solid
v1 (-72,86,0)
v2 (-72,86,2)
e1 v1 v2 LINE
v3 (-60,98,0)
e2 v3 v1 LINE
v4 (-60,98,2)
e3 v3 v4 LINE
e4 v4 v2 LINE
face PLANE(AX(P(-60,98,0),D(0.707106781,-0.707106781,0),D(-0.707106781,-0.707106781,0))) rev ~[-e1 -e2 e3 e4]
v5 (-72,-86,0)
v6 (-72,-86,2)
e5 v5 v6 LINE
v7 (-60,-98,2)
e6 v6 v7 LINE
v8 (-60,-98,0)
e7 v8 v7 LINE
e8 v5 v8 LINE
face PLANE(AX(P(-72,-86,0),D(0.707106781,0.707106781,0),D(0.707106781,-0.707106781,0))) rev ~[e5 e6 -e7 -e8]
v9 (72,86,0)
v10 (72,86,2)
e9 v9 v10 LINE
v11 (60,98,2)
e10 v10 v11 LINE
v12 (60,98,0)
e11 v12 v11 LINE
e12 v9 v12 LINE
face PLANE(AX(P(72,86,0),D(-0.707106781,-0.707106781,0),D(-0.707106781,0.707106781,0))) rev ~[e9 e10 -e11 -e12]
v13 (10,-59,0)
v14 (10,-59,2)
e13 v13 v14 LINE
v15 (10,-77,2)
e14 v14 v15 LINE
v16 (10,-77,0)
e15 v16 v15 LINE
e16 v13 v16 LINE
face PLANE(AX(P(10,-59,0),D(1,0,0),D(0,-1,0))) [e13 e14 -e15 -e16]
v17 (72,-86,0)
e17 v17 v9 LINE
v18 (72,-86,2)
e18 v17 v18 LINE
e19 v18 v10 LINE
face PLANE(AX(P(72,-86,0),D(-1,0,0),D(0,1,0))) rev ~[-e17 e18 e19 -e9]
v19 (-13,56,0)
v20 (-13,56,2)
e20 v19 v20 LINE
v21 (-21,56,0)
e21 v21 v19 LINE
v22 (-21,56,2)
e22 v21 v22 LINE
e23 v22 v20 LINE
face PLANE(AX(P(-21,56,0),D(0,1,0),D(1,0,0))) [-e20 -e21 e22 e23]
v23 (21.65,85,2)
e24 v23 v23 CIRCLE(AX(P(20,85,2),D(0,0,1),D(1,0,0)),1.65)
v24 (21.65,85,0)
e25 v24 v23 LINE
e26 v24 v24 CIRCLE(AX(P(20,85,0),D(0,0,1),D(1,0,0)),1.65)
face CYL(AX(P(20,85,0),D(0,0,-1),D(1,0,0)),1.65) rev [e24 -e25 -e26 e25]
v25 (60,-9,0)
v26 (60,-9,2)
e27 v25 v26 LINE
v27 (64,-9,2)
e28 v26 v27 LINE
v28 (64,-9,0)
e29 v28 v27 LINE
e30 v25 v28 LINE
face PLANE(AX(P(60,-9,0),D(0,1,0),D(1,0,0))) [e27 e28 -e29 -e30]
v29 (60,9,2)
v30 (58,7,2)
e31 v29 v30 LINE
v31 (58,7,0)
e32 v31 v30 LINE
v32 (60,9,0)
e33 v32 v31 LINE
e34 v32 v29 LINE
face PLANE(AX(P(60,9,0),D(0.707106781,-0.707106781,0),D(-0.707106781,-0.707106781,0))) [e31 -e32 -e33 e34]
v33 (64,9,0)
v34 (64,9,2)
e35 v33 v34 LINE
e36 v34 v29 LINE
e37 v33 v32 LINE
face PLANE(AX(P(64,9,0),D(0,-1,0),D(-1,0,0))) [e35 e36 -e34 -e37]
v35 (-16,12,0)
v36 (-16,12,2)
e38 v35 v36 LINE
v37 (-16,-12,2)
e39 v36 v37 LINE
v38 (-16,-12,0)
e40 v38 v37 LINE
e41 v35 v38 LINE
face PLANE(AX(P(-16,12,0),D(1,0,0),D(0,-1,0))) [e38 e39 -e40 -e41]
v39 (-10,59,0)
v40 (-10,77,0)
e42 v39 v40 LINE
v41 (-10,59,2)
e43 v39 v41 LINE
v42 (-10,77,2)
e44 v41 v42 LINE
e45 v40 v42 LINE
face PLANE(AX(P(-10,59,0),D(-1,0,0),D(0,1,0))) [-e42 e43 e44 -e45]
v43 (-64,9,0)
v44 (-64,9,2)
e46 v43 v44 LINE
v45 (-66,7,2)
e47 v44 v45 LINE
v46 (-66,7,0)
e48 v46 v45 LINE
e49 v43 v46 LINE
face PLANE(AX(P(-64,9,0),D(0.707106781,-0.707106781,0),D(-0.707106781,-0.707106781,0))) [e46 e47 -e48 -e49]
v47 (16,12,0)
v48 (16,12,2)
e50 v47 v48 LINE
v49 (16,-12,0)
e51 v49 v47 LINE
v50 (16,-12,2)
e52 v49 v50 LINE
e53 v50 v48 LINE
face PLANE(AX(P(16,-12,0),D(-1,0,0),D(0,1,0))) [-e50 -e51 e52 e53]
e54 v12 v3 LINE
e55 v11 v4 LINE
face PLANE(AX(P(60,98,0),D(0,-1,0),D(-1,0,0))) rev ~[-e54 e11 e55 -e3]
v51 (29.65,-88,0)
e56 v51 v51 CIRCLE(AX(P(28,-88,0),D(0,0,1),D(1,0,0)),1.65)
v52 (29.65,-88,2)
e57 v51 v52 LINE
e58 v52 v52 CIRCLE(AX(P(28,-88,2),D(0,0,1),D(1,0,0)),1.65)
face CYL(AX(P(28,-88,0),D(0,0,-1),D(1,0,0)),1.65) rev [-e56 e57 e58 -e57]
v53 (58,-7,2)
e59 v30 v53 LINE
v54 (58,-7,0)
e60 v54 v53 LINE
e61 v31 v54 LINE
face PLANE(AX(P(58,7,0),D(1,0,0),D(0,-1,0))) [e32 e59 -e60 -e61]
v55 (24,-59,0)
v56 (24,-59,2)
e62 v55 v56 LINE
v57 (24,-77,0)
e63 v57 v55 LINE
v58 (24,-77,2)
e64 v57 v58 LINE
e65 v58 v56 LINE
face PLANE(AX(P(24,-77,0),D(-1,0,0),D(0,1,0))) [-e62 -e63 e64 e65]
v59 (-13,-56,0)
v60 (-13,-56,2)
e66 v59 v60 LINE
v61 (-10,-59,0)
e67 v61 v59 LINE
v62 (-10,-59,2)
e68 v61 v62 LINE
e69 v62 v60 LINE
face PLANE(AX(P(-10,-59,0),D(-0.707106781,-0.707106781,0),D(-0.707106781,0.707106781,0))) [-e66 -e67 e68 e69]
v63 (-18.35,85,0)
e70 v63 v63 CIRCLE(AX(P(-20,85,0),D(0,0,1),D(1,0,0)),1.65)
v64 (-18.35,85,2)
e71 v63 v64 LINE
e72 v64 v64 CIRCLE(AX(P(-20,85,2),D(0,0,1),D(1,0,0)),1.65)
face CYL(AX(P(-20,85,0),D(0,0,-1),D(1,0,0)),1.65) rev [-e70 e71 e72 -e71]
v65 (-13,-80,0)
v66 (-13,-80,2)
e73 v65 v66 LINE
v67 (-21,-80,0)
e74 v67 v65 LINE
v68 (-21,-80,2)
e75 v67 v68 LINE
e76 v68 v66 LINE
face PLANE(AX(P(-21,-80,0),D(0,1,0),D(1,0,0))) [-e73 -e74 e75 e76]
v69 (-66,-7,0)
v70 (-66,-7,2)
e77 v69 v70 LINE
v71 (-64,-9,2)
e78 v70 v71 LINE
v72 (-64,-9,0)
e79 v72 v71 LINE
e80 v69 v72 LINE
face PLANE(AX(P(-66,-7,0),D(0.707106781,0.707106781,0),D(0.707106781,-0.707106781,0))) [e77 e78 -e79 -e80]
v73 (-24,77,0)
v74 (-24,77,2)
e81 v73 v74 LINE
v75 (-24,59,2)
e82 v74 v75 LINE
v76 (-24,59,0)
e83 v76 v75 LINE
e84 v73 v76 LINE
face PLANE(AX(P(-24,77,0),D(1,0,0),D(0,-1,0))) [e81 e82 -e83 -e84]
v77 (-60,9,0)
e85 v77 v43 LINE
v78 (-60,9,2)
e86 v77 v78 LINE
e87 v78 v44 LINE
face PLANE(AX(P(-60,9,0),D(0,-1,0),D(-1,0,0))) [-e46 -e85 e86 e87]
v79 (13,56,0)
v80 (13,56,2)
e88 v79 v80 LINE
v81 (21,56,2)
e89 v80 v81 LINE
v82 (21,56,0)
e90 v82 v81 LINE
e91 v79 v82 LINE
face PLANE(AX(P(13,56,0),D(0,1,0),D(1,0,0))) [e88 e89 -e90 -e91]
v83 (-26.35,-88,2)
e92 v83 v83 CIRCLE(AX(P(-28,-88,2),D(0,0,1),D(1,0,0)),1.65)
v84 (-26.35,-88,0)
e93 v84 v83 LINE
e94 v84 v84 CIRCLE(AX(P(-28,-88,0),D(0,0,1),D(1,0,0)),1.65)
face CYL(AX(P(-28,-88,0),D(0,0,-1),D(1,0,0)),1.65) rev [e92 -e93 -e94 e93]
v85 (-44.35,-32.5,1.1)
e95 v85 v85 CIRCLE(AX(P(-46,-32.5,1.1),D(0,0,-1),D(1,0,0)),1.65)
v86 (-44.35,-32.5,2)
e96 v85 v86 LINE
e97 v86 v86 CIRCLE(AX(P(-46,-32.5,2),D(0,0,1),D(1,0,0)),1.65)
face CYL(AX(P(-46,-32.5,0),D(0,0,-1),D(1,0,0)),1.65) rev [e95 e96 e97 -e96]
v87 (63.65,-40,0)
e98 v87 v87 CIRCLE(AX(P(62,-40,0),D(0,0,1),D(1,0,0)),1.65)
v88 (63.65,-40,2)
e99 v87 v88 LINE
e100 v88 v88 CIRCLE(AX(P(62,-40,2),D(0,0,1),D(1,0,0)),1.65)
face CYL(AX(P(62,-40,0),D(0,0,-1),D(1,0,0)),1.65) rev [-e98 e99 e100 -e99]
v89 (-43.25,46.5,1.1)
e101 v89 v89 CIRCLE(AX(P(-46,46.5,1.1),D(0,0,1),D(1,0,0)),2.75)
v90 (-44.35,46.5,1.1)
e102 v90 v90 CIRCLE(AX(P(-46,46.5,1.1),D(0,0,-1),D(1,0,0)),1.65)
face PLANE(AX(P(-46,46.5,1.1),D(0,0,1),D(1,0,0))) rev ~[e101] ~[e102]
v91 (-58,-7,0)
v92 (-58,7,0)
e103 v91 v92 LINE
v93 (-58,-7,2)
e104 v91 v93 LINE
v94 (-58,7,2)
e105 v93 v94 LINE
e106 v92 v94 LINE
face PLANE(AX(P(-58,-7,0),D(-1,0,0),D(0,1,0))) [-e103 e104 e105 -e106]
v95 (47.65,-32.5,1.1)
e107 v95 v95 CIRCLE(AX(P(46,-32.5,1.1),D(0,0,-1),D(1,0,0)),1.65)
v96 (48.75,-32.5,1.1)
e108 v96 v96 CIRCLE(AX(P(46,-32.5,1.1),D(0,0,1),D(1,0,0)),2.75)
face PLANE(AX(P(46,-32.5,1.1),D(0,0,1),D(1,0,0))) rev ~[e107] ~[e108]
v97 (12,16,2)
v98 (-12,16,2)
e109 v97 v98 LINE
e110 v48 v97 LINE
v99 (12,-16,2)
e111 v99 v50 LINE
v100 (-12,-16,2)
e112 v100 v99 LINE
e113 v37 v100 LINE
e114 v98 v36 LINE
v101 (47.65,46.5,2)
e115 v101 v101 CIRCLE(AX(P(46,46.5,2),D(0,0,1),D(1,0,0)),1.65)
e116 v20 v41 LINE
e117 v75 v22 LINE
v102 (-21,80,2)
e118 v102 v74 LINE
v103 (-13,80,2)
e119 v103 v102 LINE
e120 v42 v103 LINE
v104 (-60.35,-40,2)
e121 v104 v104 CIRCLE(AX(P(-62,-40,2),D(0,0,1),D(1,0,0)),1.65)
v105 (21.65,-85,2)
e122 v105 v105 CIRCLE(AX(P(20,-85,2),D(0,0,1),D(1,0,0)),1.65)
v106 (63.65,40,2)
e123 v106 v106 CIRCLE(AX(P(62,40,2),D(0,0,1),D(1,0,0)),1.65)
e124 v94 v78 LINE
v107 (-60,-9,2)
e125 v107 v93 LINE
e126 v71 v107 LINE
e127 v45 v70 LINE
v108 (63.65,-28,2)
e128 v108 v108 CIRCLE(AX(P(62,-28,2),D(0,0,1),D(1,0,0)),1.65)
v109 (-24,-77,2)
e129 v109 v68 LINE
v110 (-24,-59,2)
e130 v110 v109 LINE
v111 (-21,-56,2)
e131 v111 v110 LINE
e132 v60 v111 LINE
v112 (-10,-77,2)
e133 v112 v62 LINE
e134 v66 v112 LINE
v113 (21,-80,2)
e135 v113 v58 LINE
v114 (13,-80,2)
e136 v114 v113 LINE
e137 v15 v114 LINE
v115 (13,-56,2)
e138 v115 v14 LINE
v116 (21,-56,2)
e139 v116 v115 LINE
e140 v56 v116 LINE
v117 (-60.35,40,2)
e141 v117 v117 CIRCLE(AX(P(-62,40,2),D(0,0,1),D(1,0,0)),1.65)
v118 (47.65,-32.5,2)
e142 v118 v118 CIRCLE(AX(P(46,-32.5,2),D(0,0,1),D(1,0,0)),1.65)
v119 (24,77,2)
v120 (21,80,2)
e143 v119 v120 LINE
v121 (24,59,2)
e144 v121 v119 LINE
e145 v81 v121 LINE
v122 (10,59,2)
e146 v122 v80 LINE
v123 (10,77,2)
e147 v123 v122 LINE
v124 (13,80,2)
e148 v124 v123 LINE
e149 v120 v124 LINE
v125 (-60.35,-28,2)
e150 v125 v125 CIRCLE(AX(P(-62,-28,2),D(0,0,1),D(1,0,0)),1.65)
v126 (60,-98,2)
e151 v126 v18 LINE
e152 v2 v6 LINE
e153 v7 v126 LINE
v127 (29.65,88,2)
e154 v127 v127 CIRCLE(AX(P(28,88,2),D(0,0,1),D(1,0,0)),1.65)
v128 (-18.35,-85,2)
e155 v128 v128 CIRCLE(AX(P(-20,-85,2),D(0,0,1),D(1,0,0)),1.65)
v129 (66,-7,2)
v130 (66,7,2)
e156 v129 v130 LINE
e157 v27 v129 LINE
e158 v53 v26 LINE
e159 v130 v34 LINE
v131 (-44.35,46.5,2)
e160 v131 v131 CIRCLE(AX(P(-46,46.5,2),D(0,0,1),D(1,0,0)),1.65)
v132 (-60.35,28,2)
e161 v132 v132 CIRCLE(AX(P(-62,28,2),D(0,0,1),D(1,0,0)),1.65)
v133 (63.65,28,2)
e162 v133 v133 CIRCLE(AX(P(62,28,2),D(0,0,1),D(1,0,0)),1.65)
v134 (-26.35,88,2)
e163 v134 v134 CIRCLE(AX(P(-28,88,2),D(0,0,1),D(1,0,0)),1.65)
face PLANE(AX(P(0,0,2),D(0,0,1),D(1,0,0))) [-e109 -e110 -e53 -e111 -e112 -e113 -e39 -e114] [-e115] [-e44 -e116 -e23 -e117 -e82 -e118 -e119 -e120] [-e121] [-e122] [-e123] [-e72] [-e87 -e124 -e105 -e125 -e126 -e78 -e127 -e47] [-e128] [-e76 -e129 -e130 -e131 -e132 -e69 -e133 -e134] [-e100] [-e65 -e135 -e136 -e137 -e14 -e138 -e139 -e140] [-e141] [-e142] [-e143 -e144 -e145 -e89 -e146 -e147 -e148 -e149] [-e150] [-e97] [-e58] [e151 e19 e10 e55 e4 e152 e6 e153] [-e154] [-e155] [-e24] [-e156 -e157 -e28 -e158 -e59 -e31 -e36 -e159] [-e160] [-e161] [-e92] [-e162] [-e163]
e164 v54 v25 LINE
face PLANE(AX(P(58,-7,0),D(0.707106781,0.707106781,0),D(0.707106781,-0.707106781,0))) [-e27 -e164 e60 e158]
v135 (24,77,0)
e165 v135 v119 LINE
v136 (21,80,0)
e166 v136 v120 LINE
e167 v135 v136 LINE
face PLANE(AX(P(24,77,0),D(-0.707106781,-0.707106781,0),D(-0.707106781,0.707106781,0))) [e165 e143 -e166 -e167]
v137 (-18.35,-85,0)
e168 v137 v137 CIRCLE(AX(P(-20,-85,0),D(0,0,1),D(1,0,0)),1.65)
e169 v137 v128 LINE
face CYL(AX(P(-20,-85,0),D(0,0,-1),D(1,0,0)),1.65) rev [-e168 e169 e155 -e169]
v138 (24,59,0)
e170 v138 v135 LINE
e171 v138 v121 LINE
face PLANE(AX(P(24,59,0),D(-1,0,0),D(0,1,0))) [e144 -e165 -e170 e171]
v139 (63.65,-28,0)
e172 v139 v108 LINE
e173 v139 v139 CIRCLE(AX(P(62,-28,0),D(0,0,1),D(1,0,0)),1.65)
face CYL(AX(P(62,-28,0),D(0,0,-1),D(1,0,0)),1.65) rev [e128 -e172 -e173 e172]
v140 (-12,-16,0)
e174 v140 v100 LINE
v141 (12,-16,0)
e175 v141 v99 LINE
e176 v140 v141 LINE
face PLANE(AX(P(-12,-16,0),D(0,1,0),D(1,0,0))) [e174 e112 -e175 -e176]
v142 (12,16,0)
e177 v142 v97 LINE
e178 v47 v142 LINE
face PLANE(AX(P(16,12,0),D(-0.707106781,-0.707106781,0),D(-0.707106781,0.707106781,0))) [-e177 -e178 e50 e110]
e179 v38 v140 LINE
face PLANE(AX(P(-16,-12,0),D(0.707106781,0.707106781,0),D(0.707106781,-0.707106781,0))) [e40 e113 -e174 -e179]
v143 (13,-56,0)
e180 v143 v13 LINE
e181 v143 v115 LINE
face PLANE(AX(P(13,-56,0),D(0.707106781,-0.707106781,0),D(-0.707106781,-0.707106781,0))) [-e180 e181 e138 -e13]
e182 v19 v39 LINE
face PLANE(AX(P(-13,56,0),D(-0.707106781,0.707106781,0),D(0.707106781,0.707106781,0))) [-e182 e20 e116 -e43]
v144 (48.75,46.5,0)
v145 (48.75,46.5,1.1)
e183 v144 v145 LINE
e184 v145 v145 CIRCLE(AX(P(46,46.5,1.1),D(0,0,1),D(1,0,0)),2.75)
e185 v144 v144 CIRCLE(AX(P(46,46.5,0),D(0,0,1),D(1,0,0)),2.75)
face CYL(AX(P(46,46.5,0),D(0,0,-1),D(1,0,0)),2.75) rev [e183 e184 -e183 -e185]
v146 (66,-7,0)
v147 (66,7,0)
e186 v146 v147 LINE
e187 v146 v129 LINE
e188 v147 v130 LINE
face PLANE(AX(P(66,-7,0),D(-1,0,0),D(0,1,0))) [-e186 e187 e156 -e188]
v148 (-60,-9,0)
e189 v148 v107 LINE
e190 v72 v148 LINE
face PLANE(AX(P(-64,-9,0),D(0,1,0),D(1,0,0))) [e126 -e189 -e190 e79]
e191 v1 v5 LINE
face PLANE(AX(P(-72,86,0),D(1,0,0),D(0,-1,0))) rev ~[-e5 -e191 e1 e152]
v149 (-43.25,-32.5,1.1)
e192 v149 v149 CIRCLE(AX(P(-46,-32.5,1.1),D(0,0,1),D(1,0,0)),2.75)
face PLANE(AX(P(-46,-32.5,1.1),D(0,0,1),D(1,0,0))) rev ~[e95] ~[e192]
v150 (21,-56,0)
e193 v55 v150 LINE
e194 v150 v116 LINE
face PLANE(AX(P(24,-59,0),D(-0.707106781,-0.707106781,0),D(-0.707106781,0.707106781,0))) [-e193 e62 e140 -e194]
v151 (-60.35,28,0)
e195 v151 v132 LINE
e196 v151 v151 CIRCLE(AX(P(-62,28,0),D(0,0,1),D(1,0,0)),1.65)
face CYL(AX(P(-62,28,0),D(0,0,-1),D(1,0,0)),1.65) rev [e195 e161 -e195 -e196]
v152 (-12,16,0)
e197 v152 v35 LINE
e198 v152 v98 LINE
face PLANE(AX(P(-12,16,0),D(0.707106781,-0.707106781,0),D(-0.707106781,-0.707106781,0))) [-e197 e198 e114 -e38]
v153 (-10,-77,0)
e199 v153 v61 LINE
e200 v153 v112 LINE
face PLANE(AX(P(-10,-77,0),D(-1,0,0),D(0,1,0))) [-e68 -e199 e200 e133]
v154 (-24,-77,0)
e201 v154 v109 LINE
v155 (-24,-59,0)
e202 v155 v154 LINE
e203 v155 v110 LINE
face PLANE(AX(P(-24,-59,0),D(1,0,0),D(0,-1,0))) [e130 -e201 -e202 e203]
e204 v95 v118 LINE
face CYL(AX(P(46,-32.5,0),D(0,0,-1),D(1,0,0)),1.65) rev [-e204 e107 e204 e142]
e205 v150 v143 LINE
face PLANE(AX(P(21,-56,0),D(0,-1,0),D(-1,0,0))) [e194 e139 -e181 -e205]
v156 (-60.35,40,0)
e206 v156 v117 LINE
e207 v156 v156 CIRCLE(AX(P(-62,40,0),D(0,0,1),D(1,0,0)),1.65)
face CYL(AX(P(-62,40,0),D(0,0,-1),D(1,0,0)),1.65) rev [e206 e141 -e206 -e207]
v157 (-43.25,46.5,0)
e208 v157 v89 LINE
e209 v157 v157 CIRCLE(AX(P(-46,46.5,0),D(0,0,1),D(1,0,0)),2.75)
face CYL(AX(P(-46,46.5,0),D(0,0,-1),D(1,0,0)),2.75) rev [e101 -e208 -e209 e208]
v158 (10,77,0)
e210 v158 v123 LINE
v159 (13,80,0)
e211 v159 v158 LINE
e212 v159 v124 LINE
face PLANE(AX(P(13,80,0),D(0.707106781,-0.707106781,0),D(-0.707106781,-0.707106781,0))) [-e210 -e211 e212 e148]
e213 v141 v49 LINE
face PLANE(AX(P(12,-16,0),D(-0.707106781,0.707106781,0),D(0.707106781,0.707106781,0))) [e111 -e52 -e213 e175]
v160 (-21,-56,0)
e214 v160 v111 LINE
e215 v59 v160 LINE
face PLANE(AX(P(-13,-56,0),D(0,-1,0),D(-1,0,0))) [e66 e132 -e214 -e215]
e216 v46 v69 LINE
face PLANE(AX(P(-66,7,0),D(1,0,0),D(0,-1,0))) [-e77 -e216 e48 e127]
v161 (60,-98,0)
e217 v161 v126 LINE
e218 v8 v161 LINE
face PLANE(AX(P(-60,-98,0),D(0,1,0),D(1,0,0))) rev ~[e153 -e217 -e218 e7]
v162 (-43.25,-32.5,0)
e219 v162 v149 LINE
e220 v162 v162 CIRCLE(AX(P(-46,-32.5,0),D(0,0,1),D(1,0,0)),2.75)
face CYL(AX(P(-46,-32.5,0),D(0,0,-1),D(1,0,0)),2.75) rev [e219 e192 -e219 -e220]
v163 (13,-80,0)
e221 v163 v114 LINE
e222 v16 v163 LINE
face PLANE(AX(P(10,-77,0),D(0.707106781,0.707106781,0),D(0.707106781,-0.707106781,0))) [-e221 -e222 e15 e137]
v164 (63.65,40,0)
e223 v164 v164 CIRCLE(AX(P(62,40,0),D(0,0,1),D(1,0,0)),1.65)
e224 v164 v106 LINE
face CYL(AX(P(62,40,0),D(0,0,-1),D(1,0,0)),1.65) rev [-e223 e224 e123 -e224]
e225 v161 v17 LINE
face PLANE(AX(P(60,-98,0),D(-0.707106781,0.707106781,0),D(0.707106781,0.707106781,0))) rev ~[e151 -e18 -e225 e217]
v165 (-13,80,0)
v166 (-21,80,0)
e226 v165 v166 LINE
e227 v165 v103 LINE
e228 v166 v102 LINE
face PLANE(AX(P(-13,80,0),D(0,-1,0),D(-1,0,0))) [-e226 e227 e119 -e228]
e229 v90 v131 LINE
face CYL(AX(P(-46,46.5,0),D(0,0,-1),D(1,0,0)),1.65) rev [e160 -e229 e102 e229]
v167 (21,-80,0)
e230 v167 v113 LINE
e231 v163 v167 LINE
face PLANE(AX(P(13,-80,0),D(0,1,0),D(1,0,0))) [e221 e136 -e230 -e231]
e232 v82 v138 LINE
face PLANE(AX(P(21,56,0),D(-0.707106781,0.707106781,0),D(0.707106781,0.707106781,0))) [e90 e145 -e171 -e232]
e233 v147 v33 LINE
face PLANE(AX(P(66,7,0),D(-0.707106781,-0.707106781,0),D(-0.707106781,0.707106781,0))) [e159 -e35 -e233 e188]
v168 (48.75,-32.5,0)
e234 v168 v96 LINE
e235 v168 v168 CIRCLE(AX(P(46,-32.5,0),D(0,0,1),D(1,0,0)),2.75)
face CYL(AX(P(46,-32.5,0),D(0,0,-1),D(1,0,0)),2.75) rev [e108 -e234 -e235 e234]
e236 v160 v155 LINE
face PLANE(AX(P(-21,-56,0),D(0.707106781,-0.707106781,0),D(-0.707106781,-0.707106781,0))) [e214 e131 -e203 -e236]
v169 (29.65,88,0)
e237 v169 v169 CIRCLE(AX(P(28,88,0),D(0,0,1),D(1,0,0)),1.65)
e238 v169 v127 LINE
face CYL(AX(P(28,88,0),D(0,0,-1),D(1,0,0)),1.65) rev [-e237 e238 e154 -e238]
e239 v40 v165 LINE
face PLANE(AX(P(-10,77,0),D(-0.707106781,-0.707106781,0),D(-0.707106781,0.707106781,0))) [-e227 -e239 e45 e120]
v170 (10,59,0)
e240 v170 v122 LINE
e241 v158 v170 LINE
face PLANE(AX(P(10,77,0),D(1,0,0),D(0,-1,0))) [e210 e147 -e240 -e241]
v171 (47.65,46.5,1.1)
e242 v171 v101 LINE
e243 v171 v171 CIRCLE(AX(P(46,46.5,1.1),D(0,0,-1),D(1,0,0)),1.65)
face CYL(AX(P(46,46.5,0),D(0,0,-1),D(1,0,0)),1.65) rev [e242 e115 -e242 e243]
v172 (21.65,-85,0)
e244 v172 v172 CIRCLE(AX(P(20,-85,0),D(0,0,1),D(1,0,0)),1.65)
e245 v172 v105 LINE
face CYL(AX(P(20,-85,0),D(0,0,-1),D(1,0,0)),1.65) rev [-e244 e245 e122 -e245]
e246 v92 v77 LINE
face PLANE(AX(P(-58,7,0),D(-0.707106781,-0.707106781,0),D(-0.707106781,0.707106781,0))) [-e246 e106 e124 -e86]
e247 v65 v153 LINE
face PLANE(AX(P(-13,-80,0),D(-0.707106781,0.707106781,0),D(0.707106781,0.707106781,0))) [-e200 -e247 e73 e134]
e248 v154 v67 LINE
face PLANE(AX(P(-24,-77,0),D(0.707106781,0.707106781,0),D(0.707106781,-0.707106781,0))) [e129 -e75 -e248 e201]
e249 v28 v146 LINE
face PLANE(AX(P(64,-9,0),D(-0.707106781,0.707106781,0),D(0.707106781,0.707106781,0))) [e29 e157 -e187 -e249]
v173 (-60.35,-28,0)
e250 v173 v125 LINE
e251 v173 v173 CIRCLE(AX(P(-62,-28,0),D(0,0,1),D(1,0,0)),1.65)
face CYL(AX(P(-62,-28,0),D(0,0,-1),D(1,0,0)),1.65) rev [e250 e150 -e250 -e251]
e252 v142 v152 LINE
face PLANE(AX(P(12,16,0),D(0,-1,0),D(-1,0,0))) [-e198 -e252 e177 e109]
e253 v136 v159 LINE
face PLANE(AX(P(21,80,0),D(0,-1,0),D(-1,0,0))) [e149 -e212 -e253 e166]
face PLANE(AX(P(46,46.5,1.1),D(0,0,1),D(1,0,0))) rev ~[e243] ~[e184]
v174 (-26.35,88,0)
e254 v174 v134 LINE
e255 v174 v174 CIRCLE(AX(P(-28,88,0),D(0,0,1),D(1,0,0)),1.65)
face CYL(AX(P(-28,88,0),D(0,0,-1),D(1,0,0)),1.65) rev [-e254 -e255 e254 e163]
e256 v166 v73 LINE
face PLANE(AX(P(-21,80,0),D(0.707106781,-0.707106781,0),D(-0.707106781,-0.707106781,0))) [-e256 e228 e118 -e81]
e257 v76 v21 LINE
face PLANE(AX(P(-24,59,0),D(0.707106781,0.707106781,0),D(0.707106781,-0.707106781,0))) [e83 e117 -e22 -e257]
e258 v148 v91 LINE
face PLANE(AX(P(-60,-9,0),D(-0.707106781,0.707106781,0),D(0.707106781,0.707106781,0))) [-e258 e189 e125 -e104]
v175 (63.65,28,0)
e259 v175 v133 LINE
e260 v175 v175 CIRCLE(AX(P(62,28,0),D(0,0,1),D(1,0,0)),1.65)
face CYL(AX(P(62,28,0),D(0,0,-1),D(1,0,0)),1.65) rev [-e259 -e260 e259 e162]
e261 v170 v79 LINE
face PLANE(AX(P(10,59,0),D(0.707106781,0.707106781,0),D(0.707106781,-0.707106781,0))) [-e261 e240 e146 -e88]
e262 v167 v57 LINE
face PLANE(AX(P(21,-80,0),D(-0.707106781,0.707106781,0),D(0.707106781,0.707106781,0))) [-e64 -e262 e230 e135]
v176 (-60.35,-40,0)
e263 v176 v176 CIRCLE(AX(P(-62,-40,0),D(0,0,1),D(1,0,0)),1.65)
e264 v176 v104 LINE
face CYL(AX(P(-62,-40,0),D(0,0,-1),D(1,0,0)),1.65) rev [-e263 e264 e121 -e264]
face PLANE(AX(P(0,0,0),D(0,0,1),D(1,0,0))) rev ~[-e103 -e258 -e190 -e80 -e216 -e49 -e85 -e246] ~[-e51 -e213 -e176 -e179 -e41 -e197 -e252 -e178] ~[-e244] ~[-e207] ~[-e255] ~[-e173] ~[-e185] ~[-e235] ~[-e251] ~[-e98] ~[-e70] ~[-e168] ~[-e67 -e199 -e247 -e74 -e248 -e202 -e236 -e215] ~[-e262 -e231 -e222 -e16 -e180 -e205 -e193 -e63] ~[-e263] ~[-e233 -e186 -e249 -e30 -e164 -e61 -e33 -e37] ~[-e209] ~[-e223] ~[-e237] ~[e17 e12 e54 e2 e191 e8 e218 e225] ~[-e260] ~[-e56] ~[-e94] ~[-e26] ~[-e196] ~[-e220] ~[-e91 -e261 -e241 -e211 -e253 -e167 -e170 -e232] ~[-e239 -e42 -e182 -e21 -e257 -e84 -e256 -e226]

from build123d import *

# Parameters (mm, degrees)
SKETCH_7_R            = 1.65
EXTRUDE_542_DEPTH     = 2
SKETCH_8_R            = 2.75
CUT_EXTRUDE_611_DEPTH = 1.1


with BuildPart() as part:
    # 草图7 → Extrude 542 (new body)
    with BuildSketch(Plane.XY):
        Polygon((-60, -98), (60, -98), (72, -86), (72, 86), (60, 98), (-60, 98), (-72, 86), (-72, -86), align=None)
        with Locations((-20, -85)):
            Circle(SKETCH_7_R, mode=Mode.SUBTRACT)
        with Locations((-62, -28)):
            Circle(SKETCH_7_R, mode=Mode.SUBTRACT)
        with Locations((-28, -88)):
            Circle(SKETCH_7_R, mode=Mode.SUBTRACT)
        with Locations((-62, -40)):
            Circle(SKETCH_7_R, mode=Mode.SUBTRACT)
        with Locations((-20, 85)):
            Circle(SKETCH_7_R, mode=Mode.SUBTRACT)
        with Locations((-62, 28)):
            Circle(SKETCH_7_R, mode=Mode.SUBTRACT)
        with Locations((-28, 88)):
            Circle(SKETCH_7_R, mode=Mode.SUBTRACT)
        with Locations((-62, 40)):
            Circle(SKETCH_7_R, mode=Mode.SUBTRACT)
        with Locations((20, -85)):
            Circle(SKETCH_7_R, mode=Mode.SUBTRACT)
        with Locations((62, -28)):
            Circle(SKETCH_7_R, mode=Mode.SUBTRACT)
        with Locations((28, -88)):
            Circle(SKETCH_7_R, mode=Mode.SUBTRACT)
        with Locations((62, -40)):
            Circle(SKETCH_7_R, mode=Mode.SUBTRACT)
        with Locations((20, 85)):
            Circle(SKETCH_7_R, mode=Mode.SUBTRACT)
        with Locations((62, 28)):
            Circle(SKETCH_7_R, mode=Mode.SUBTRACT)
        with Locations((28, 88)):
            Circle(SKETCH_7_R, mode=Mode.SUBTRACT)
        with Locations((62, 40)):
            Circle(SKETCH_7_R, mode=Mode.SUBTRACT)
        with Locations((-46, -32.5)):
            Circle(SKETCH_7_R, mode=Mode.SUBTRACT)
        with Locations((-46, 46.5)):
            Circle(SKETCH_7_R, mode=Mode.SUBTRACT)
        with Locations((46, -32.5)):
            Circle(SKETCH_7_R, mode=Mode.SUBTRACT)
        with Locations((46, 46.5)):
            Circle(SKETCH_7_R, mode=Mode.SUBTRACT)
        Polygon((-64, -9), (-60, -9), (-58, -7), (-58, 7), (-60, 9), (-64, 9), (-66, 7), (-66, -7), align=None, mode=Mode.SUBTRACT)
        Polygon((-21, 56), (-13, 56), (-10, 59), (-10, 77), (-13, 80), (-21, 80), (-24, 77), (-24, 59), align=None, mode=Mode.SUBTRACT)
        Polygon((-21, -80), (-13, -80), (-10, -77), (-10, -59), (-13, -56), (-21, -56), (-24, -59), (-24, -77), align=None, mode=Mode.SUBTRACT)
        Polygon((60, -9), (64, -9), (66, -7), (66, 7), (64, 9), (60, 9), (58, 7), (58, -7), align=None, mode=Mode.SUBTRACT)
        Polygon((13, 56), (21, 56), (24, 59), (24, 77), (21, 80), (13, 80), (10, 77), (10, 59), align=None, mode=Mode.SUBTRACT)
        Polygon((13, -80), (21, -80), (24, -77), (24, -59), (21, -56), (13, -56), (10, -59), (10, -77), align=None, mode=Mode.SUBTRACT)
        Polygon((-12, -16), (12, -16), (16, -12), (16, 12), (12, 16), (-12, 16), (-16, 12), (-16, -12), align=None, mode=Mode.SUBTRACT)
    extrude(amount=EXTRUDE_542_DEPTH)

    # 草图8 → Cut-Extrude 611 (cut)
    with BuildSketch(Plane.XY):
        with Locations((-46, -32.5)):
            Circle(SKETCH_8_R)
        with Locations((-46, 46.5)):
            Circle(SKETCH_8_R)
        with Locations((46, -32.5)):
            Circle(SKETCH_8_R)
        with Locations((46, 46.5)):
            Circle(SKETCH_8_R)
    extrude(amount=CUT_EXTRUDE_611_DEPTH, mode=Mode.SUBTRACT)


solid = part.part
